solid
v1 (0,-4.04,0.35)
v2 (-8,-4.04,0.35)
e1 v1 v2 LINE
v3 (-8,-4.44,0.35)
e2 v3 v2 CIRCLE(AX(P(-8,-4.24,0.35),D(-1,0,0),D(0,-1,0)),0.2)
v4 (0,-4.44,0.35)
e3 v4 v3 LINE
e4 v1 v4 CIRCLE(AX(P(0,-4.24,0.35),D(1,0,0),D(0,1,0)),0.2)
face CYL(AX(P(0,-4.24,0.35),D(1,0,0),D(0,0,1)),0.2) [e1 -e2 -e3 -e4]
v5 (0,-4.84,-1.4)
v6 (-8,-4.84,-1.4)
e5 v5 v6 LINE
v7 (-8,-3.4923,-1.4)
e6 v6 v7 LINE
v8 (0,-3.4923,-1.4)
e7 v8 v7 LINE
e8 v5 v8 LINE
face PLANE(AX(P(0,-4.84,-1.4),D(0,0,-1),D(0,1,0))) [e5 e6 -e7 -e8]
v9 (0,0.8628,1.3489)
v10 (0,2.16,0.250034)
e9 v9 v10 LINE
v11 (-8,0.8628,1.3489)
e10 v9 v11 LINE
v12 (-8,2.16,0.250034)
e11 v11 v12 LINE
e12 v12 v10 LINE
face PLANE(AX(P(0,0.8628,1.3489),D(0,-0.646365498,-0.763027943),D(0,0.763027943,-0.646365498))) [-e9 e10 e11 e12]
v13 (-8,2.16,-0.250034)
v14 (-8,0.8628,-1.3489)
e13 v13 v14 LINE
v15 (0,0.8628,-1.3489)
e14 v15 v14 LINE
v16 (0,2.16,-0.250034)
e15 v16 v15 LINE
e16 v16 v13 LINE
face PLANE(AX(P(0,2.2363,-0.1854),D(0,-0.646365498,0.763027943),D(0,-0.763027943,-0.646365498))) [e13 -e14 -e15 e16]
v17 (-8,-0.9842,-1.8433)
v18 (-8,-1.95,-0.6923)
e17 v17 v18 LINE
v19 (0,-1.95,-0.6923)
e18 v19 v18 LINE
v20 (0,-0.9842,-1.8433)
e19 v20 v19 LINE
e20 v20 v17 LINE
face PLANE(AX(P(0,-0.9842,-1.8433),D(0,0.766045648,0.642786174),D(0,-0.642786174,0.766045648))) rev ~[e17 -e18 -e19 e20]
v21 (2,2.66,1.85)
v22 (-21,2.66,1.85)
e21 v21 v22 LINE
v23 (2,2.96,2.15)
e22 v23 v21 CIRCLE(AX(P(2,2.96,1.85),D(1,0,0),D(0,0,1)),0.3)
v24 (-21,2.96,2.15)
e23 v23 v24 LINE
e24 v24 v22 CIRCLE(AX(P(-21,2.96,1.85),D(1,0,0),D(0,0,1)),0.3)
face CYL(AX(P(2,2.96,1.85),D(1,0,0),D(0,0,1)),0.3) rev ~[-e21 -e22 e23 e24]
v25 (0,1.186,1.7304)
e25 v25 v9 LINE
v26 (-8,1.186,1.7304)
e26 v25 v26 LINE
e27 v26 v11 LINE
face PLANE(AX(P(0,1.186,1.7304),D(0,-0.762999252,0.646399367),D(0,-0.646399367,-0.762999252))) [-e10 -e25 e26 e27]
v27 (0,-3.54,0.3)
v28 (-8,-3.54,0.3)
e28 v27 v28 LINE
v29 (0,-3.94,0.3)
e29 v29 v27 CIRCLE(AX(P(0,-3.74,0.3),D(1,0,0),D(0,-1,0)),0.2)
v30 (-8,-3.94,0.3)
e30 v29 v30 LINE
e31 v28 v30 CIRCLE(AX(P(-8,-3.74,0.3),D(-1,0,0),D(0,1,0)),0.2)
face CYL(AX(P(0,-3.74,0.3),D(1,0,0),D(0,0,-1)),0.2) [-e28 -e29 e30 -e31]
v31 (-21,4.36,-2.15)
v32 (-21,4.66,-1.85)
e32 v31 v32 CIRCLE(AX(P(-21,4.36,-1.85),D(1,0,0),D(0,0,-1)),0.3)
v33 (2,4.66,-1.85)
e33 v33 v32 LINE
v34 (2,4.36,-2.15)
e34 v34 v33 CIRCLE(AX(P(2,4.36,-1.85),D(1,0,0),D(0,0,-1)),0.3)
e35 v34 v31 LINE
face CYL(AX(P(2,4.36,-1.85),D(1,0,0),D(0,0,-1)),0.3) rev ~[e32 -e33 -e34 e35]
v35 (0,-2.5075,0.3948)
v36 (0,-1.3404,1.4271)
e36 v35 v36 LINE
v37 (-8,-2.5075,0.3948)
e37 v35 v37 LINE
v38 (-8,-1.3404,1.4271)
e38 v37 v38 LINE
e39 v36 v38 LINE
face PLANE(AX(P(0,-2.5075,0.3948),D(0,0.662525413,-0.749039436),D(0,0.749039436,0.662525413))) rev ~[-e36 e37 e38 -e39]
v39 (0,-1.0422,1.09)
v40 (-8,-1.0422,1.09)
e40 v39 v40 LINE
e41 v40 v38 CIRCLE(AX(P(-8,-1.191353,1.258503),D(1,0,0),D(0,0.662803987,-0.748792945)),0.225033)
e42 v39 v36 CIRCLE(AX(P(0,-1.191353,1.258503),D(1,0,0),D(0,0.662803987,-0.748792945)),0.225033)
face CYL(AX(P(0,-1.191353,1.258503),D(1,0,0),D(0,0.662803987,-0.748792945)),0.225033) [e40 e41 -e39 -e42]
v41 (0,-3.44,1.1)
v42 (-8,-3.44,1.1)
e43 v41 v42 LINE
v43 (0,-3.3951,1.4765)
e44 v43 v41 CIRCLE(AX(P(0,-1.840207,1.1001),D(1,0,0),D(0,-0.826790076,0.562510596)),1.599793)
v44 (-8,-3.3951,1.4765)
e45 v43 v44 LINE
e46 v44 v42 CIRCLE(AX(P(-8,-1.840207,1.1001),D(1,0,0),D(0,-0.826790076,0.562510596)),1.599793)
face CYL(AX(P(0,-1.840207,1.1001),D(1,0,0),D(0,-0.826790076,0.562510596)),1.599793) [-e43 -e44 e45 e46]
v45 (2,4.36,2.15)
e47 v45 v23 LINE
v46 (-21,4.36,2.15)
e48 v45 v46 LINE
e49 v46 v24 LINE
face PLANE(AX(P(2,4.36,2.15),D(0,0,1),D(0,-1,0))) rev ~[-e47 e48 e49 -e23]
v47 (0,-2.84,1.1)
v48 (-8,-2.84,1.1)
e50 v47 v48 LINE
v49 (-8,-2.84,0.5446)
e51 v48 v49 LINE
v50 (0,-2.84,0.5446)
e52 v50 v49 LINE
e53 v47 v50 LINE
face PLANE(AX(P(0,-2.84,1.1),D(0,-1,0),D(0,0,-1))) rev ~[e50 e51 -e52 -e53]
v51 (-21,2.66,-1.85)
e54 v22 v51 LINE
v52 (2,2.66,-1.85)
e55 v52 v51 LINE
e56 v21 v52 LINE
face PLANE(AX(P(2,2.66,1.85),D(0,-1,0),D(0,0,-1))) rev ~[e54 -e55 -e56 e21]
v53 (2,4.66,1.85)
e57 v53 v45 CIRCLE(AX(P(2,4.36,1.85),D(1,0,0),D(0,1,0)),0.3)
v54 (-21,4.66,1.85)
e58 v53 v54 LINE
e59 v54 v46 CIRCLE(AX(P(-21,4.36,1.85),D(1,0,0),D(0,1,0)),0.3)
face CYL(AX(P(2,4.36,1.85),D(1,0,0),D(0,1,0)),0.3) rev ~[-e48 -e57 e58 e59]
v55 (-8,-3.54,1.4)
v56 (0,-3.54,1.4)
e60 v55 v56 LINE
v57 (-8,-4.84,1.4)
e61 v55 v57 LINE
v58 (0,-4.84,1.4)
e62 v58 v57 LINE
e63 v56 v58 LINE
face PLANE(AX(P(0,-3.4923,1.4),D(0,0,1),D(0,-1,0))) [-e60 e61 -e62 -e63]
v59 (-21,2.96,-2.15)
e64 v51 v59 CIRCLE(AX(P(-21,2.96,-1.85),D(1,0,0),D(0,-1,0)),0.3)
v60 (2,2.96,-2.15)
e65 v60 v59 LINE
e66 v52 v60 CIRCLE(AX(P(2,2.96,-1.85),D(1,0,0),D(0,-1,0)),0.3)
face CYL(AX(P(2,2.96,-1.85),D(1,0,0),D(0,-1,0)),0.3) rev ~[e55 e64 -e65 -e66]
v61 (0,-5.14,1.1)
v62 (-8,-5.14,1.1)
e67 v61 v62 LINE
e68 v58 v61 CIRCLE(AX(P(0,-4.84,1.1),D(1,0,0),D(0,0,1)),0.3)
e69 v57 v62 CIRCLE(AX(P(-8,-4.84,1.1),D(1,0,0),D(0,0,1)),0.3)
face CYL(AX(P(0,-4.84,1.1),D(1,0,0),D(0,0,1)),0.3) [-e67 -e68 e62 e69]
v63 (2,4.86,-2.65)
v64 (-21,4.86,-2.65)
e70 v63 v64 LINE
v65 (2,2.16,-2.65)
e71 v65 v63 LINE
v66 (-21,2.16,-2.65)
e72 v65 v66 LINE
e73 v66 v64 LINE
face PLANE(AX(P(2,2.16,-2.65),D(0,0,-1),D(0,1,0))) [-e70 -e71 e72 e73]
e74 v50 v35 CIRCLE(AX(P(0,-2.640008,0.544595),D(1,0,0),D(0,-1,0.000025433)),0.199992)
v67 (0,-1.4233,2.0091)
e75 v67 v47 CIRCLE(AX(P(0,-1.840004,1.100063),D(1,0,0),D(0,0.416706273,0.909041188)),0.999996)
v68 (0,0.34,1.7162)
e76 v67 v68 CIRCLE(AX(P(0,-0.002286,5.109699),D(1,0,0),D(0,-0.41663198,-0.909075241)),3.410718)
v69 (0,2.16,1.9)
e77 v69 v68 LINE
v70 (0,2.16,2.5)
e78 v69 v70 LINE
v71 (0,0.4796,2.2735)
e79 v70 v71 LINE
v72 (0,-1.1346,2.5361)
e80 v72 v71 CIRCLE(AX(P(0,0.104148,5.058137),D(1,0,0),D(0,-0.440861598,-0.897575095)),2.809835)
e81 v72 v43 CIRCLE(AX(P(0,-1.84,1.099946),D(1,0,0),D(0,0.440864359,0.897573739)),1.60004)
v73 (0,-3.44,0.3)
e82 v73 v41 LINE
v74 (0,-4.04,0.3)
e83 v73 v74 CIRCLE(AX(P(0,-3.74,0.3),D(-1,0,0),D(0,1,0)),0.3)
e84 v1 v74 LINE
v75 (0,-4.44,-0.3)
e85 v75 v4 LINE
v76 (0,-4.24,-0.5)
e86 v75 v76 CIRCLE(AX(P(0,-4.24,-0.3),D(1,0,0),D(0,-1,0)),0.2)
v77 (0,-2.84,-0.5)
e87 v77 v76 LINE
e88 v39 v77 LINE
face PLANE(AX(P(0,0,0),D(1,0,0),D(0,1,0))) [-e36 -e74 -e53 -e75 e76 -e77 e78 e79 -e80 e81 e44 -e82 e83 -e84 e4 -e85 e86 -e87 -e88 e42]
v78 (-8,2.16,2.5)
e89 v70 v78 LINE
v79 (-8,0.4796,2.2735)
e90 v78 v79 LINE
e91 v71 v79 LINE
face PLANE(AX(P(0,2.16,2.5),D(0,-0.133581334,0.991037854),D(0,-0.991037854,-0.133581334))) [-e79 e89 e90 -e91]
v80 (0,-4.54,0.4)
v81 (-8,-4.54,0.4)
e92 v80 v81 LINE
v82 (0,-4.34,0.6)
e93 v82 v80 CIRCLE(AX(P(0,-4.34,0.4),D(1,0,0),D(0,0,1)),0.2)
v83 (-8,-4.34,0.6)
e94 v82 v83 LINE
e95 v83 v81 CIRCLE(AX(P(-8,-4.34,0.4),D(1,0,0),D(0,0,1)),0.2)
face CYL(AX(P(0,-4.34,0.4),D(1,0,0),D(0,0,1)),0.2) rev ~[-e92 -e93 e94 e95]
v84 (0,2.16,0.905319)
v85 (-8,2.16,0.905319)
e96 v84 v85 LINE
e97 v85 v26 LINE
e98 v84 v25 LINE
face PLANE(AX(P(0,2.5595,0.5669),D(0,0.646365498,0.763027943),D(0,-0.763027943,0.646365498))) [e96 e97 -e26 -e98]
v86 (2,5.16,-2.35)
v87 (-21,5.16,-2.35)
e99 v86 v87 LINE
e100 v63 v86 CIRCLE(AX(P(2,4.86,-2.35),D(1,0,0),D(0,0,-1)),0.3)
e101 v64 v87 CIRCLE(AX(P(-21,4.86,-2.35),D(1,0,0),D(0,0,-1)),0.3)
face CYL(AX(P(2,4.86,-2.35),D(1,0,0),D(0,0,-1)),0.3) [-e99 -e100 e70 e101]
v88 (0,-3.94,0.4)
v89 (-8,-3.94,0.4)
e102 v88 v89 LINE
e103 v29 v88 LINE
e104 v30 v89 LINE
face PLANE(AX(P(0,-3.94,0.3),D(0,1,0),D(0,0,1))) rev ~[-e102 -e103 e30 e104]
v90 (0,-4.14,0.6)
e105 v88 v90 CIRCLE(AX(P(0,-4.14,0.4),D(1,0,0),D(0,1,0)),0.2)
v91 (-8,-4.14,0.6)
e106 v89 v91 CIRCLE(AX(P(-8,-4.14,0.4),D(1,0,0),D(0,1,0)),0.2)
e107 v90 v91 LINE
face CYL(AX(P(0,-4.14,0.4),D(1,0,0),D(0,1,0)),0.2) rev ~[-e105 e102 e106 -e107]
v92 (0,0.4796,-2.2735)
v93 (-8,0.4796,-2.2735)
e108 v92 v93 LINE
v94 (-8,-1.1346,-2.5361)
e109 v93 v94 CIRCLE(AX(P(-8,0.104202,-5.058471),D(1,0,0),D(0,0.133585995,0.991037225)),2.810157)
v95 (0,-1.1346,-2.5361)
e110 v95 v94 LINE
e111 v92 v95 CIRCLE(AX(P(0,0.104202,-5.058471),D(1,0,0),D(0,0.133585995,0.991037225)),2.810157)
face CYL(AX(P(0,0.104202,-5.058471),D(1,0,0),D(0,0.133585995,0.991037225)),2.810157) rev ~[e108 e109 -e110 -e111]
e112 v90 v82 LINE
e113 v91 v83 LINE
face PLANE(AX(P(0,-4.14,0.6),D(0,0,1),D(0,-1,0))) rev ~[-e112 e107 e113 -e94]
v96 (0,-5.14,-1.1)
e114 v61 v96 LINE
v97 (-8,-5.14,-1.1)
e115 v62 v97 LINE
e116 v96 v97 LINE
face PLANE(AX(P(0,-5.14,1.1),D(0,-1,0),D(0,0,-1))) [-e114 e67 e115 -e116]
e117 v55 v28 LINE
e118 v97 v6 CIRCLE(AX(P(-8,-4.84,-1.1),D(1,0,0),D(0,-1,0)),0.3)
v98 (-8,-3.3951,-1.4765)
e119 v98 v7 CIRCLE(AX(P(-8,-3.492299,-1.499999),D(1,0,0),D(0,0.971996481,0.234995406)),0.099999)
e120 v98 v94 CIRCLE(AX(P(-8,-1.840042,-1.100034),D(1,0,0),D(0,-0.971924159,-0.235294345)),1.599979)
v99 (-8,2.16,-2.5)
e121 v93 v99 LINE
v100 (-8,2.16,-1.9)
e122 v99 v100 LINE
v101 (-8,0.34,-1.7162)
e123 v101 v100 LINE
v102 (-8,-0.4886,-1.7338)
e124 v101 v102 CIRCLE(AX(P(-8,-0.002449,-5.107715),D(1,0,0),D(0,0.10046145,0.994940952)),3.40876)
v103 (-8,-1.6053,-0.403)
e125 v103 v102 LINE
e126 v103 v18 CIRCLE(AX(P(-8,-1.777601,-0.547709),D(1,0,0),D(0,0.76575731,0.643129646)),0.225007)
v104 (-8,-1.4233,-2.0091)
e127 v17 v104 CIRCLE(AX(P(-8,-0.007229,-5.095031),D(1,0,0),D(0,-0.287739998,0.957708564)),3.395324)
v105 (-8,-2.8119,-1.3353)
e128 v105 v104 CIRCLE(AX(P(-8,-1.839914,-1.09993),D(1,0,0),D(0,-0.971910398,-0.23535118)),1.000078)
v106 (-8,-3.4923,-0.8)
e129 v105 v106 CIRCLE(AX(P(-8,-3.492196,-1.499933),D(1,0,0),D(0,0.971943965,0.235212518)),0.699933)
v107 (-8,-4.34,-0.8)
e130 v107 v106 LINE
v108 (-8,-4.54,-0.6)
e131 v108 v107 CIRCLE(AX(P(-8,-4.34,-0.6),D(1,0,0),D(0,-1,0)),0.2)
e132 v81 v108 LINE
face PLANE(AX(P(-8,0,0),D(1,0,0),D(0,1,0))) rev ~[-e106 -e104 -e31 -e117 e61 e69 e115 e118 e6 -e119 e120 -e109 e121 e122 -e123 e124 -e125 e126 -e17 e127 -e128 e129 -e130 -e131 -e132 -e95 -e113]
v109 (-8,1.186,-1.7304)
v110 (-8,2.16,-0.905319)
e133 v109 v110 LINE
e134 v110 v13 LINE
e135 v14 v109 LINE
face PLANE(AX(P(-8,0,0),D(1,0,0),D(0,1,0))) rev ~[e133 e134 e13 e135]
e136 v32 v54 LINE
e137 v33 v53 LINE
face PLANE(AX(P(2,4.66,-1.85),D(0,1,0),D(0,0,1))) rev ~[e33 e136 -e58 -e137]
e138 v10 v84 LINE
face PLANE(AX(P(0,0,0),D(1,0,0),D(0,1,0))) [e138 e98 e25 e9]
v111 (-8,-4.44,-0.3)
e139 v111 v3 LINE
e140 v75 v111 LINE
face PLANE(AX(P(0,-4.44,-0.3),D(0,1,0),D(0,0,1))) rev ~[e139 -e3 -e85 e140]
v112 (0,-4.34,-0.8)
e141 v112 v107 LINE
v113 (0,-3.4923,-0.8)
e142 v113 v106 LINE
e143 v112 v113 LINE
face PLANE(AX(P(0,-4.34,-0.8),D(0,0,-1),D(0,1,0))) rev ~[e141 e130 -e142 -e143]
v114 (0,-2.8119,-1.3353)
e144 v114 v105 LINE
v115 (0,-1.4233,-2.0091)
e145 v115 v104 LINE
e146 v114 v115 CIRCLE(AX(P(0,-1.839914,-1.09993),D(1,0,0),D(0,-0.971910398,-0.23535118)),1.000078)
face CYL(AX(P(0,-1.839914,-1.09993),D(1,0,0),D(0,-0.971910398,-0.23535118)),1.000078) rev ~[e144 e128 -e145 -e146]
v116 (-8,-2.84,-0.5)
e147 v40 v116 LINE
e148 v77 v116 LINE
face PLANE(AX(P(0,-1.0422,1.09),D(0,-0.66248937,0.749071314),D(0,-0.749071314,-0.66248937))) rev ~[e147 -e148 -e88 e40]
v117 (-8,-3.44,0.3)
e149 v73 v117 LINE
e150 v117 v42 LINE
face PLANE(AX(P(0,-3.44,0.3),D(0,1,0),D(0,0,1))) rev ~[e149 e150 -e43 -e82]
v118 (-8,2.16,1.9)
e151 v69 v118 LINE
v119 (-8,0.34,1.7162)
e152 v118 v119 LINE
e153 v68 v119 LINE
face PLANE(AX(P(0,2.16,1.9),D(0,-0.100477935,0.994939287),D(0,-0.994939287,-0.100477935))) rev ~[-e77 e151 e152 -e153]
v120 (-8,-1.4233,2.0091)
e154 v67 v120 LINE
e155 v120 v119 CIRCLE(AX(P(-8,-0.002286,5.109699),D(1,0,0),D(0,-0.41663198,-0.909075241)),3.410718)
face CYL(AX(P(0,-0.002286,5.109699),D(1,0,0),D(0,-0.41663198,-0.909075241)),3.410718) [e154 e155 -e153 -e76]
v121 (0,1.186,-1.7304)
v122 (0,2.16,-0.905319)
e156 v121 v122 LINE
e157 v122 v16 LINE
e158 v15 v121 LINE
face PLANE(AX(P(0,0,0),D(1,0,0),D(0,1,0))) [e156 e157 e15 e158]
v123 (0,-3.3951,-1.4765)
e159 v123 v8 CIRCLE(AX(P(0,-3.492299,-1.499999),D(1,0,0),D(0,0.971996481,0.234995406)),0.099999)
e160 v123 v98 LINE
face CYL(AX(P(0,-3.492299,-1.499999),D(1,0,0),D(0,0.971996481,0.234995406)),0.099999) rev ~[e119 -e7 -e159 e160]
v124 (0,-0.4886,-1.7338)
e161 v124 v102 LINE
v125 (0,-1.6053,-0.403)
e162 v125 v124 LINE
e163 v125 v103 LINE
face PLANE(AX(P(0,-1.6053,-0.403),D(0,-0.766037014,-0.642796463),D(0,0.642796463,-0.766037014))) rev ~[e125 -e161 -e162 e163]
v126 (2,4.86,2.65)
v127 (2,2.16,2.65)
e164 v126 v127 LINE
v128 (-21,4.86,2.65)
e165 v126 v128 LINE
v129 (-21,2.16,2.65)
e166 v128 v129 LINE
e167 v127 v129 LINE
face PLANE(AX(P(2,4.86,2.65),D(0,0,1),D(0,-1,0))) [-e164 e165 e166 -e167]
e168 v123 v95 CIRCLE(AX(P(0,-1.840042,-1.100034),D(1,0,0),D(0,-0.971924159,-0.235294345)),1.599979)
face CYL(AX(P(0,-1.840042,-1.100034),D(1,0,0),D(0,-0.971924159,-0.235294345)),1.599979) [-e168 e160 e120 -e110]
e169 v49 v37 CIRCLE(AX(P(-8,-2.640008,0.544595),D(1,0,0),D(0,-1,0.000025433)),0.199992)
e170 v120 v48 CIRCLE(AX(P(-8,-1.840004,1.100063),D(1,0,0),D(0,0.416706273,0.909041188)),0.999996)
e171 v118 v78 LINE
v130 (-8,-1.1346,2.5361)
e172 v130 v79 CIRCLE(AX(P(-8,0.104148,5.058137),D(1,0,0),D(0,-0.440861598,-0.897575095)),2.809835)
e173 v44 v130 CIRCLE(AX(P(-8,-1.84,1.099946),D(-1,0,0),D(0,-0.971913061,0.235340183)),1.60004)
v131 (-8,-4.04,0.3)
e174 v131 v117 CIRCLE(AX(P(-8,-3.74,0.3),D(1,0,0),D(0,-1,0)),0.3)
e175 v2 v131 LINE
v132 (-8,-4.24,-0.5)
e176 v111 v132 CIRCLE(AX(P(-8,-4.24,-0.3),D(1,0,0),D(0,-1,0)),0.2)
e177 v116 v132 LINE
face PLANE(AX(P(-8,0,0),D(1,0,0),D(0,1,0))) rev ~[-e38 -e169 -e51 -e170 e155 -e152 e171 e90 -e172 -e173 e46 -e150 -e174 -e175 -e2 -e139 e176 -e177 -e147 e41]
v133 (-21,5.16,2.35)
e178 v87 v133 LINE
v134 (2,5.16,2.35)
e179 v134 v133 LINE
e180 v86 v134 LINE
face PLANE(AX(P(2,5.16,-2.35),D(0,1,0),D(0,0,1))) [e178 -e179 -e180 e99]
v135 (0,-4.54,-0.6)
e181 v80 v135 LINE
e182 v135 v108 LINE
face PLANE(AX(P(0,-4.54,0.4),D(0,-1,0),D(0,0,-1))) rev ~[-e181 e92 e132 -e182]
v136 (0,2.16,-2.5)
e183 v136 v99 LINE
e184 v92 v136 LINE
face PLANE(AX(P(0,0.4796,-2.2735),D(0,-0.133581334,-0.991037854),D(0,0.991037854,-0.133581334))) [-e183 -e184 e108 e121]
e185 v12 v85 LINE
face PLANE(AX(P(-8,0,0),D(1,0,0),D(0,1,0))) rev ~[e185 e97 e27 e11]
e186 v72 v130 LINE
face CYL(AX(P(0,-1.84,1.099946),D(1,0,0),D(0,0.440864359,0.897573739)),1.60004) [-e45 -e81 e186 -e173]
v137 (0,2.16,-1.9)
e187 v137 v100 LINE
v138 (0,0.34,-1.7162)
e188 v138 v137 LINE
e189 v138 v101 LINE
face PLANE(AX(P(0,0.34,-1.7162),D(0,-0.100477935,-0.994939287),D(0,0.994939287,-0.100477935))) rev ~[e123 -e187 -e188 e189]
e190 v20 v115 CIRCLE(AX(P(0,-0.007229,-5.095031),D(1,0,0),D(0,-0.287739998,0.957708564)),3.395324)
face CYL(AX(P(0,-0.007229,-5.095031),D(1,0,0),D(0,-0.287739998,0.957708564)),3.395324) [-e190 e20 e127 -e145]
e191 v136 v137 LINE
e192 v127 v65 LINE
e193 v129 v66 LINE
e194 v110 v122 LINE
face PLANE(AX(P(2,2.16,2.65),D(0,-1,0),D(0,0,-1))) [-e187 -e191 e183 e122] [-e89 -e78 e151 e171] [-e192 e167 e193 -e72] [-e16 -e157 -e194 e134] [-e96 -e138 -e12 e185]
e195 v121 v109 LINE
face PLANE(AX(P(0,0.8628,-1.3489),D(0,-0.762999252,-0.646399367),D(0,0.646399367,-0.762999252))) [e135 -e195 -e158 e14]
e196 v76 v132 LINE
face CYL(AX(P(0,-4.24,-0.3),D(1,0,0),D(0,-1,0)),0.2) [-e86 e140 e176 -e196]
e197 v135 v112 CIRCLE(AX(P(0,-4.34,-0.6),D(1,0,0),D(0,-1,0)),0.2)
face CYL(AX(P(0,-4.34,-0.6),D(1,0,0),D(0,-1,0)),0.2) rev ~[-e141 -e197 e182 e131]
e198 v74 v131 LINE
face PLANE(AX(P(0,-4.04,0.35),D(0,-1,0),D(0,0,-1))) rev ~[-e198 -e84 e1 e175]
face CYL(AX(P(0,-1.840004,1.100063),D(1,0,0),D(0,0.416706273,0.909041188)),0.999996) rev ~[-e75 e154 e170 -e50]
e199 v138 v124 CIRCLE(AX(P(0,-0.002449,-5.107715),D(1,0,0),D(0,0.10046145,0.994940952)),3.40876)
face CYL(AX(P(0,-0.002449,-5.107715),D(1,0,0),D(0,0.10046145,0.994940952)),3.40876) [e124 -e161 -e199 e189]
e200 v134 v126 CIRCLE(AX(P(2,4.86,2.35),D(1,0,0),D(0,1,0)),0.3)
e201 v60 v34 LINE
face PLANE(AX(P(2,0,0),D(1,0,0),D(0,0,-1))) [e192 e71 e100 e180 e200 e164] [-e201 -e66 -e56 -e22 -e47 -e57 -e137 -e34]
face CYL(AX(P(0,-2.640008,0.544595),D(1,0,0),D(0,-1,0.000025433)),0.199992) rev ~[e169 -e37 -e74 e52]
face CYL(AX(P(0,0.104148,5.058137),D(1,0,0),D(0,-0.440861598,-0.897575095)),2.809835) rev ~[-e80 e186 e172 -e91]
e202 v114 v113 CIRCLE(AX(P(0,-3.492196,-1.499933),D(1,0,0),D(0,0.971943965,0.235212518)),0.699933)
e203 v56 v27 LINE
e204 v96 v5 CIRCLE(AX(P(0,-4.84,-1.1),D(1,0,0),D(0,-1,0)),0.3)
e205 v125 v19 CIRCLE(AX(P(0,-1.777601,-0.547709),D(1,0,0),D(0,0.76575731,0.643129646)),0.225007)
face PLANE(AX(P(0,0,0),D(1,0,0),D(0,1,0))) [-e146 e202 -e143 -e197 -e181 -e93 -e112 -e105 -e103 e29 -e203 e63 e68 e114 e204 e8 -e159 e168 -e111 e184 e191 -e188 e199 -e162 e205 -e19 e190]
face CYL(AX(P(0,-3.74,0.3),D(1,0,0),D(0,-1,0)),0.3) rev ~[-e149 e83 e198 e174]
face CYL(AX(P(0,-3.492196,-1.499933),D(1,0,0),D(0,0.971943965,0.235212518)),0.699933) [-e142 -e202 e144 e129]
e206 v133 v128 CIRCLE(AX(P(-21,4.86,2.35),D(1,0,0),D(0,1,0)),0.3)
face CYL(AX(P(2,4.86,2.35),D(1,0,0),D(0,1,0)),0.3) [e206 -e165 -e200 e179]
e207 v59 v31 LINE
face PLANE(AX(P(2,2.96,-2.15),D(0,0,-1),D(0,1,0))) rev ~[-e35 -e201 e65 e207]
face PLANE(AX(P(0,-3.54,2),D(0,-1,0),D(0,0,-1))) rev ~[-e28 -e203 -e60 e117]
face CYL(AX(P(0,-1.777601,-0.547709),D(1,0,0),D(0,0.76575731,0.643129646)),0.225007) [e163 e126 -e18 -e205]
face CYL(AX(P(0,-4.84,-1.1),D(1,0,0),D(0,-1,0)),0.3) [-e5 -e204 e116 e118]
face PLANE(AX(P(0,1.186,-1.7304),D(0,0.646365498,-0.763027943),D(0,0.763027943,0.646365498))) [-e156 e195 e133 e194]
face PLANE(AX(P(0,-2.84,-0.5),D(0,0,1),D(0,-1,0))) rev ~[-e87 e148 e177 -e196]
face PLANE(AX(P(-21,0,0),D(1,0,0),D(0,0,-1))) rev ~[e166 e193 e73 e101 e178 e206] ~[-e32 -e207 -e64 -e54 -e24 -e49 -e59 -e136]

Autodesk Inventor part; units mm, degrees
sketch "Sketch_11" plane through (0, 0, 0) normal (1, 0, 0) x (0, 1, 0)
  arc A0 (-1.1346, 2.5361) -> (-3.3951, 1.4765) centre (-1.84, 1.1) ccw
  arc A1 (-3.4923, 1.4) -> (-3.3951, 1.4765) centre (-3.4923, 1.5) ccw
  line L0 (-3.4923, 1.4) -> (-4.84, 1.4)
  arc A2 (-4.84, 1.4) -> (-5.14, 1.1) centre (-4.84, 1.1) ccw
  line L1 (-5.14, 1.1) -> (-5.14, -1.1)
  arc A3 (-5.14, -1.1) -> (-4.84, -1.4) centre (-4.84, -1.1) ccw
  line L2 (-4.84, -1.4) -> (-3.4923, -1.4)
  arc A4 (-3.3951, -1.4765) -> (-3.4923, -1.4) centre (-3.4923, -1.5) ccw
  arc A5 (-3.3951, -1.4765) -> (-1.1346, -2.5361) centre (-1.84, -1.1) ccw
  arc A6 (0.4796, -2.2735) -> (-1.1346, -2.5361) centre (0.1042, -5.0583) ccw
  line L3 (0.4796, -2.2735) -> (2.16, -2.5)
  line L4 (2.16, -2.5) -> (2.16, 2.5)
  line L5 (2.16, 2.5) -> (0.4796, 2.2735)
  arc A7 (-1.1346, 2.5361) -> (0.4796, 2.2735) centre (0.1042, 5.0583) ccw
  circle A8 centre (0, 0) radius 1.45
extrude "Extrusion1" add sketch "Sketch_11" against normal blind 8
sketch "Sketch_12" plane through (2, 0, 0) normal (1, 0, 0) x (0, 0, -1)
  line L0 (-2.65, 4.86) -> (-2.65, 2.16)
  line L1 (-2.65, 2.16) -> (2.65, 2.16)
  line L2 (2.65, 2.16) -> (2.65, 4.86)
  arc A0 (2.65, 4.86) -> (2.35, 5.16) centre (2.35, 4.86) ccw
  line L3 (2.35, 5.16) -> (-2.35, 5.16)
  arc A1 (-2.35, 5.16) -> (-2.65, 4.86) centre (-2.35, 4.86) ccw
extrude "Extrusion2" add sketch "Sketch_12" against normal blind 23
sketch "Sketch_13" plane through (2, 0, 0) normal (1, 0, 0) x (0, 0, -1)
  arc A0 (-2.15, 2.96) -> (-1.85, 2.66) centre (-1.85, 2.96) ccw
  line L0 (-1.85, 2.66) -> (1.85, 2.66)
  arc A1 (1.85, 2.66) -> (2.15, 2.96) centre (1.85, 2.96) ccw
  line L1 (2.15, 2.96) -> (2.15, 4.36)
  arc A2 (2.15, 4.36) -> (1.85, 4.66) centre (1.85, 4.36) ccw
  line L2 (1.85, 4.66) -> (-1.85, 4.66)
  arc A3 (-1.85, 4.66) -> (-2.15, 4.36) centre (-1.85, 4.36) ccw
  line L3 (-2.15, 4.36) -> (-2.15, 2.96)
extrude "Extrusion3" cut sketch "Sketch_13" against normal blind 23
sketch "Sketch_14" plane through (0, 0, 0) normal (1, 0, 0) x (0, 1, 0)
  arc A0 (-1.4233, 2.0091) -> (-2.84, 1.1) centre (-1.84, 1.1) ccw
  line L0 (-2.84, 1.1) -> (-2.84, 0.5446)
  arc A1 (-2.84, 0.5446) -> (-2.5075, 0.3948) centre (-2.64, 0.5446) ccw
  line L1 (-2.5075, 0.3948) -> (-1.3404, 1.4271)
  arc A2 (-1.0422, 1.09) -> (-1.3404, 1.4271) centre (-1.1913, 1.2585) ccw
  line L2 (-1.0422, 1.09) -> (-2.84, -0.5)
  line L3 (-2.84, -0.5) -> (-4.24, -0.5)
  arc A3 (-4.44, -0.3) -> (-4.24, -0.5) centre (-4.24, -0.3) ccw
  line L4 (-4.44, -0.3) -> (-4.44, 0.35)
  arc A4 (-4.24, 0.55) -> (-4.44, 0.35) centre (-4.24, 0.35) ccw
  arc A5 (-4.04, 0.35) -> (-4.24, 0.55) centre (-4.24, 0.35) ccw
  line L5 (-4.04, 0.35) -> (-4.04, 0.3)
  arc A6 (-4.04, 0.3) -> (-3.74, 0) centre (-3.74, 0.3) ccw
  arc A7 (-3.74, 0) -> (-3.44, 0.3) centre (-3.74, 0.3) ccw
  line L6 (-3.44, 0.3) -> (-3.44, 1.1)
  arc A8 (-3.1629, 2) -> (-3.44, 1.1) centre (-1.84, 1.1) ccw
  line L7 (-3.1629, 2) -> (-3.54, 2)
  line L8 (-3.54, 2) -> (-3.54, 0.3)
  arc A9 (-3.74, 0.1) -> (-3.54, 0.3) centre (-3.74, 0.3) ccw
  arc A10 (-3.94, 0.3) -> (-3.74, 0.1) centre (-3.74, 0.3) ccw
  line L9 (-3.94, 0.3) -> (-3.94, 0.4)
  arc A11 (-3.94, 0.4) -> (-4.14, 0.6) centre (-4.14, 0.4) ccw
  line L10 (-4.14, 0.6) -> (-4.34, 0.6)
  arc A12 (-4.34, 0.6) -> (-4.54, 0.4) centre (-4.34, 0.4) ccw
  line L11 (-4.54, 0.4) -> (-4.54, -0.6)
  arc A13 (-4.54, -0.6) -> (-4.34, -0.8) centre (-4.34, -0.6) ccw
  line L12 (-4.34, -0.8) -> (-3.4923, -0.8)
  arc A14 (-2.8119, -1.3353) -> (-3.4923, -0.8) centre (-3.4923, -1.5) ccw
  arc A15 (-2.8119, -1.3353) -> (-1.4233, -2.0091) centre (-1.84, -1.1) ccw
  arc A16 (-0.9842, -1.8433) -> (-1.4233, -2.0091) centre (-0.0025, -5.109) ccw
  line L13 (-0.9842, -1.8433) -> (-1.95, -0.6923)
  arc A17 (-1.6053, -0.403) -> (-1.95, -0.6923) centre (-1.7776, -0.5477) ccw
  line L14 (-1.6053, -0.403) -> (-0.4886, -1.7338)
  arc A18 (0.34, -1.7162) -> (-0.4886, -1.7338) centre (-0.0025, -5.109) ccw
  line L15 (0.34, -1.7162) -> (2.16, -1.9)
  line L16 (2.16, -1.9) -> (2.16, 1.9)
  line L17 (2.16, 1.9) -> (0.34, 1.7162)
  arc A19 (-1.4233, 2.0091) -> (0.34, 1.7162) centre (-0.0025, 5.109) ccw
extrude "Extrusion4" cut sketch "Sketch_14" against normal blind 8
sketch "Sketch_4" plane through (0, 0, 0) normal (1, 0, 0) x (0, 1, 0)
  line L0 (2.2363, -0.1854) -> (0.8628, -1.3489)
  line L1 (0.8628, -1.3489) -> (1.186, -1.7304)
  line L2 (1.186, -1.7304) -> (2.5595, -0.5669)
  line L3 (2.5595, -0.5669) -> (2.2363, -0.1854)
extrude "Extrusion5" add sketch "Sketch_4" against normal blind 8
sketch "Sketch_5" plane through (0, 0, 0) normal (1, 0, 0) x (0, 1, 0)
  line L0 (1.186, 1.7304) -> (0.8628, 1.3489)
  line L1 (0.8628, 1.3489) -> (2.2363, 0.1854)
  line L2 (2.2363, 0.1854) -> (2.5595, 0.5669)
  line L3 (2.5595, 0.5669) -> (1.186, 1.7304)
extrude "Extrusion6" add sketch "Sketch_5" against normal blind 8
ref_plane "CP_XY" through (2, 5.16, 0) normal (1, 0, 0) x (0, 0, -1)
ref_plane "CP_YZ" through (2, 5.16, 0) normal (0, 0, -1) x (0, 1, 0)
ref_plane "CP_ZX" through (2, 5.16, 0) normal (0, 1, 0) x (1, 0, 0)
ref_plane "KTN_XY" through (0, 0, 0) normal (1, 0, 0) x (0, 0, -1)
ref_plane "KTN_YZ" through (0, 0, 0) normal (0, 0, -1) x (0, 1, 0)
ref_plane "KTN_ZX" through (0, 0, 0) normal (0, 1, 0) x (1, 0, 0)
properties part number "1247168 ASCF-M-23-S DM 2.1-3.4"
